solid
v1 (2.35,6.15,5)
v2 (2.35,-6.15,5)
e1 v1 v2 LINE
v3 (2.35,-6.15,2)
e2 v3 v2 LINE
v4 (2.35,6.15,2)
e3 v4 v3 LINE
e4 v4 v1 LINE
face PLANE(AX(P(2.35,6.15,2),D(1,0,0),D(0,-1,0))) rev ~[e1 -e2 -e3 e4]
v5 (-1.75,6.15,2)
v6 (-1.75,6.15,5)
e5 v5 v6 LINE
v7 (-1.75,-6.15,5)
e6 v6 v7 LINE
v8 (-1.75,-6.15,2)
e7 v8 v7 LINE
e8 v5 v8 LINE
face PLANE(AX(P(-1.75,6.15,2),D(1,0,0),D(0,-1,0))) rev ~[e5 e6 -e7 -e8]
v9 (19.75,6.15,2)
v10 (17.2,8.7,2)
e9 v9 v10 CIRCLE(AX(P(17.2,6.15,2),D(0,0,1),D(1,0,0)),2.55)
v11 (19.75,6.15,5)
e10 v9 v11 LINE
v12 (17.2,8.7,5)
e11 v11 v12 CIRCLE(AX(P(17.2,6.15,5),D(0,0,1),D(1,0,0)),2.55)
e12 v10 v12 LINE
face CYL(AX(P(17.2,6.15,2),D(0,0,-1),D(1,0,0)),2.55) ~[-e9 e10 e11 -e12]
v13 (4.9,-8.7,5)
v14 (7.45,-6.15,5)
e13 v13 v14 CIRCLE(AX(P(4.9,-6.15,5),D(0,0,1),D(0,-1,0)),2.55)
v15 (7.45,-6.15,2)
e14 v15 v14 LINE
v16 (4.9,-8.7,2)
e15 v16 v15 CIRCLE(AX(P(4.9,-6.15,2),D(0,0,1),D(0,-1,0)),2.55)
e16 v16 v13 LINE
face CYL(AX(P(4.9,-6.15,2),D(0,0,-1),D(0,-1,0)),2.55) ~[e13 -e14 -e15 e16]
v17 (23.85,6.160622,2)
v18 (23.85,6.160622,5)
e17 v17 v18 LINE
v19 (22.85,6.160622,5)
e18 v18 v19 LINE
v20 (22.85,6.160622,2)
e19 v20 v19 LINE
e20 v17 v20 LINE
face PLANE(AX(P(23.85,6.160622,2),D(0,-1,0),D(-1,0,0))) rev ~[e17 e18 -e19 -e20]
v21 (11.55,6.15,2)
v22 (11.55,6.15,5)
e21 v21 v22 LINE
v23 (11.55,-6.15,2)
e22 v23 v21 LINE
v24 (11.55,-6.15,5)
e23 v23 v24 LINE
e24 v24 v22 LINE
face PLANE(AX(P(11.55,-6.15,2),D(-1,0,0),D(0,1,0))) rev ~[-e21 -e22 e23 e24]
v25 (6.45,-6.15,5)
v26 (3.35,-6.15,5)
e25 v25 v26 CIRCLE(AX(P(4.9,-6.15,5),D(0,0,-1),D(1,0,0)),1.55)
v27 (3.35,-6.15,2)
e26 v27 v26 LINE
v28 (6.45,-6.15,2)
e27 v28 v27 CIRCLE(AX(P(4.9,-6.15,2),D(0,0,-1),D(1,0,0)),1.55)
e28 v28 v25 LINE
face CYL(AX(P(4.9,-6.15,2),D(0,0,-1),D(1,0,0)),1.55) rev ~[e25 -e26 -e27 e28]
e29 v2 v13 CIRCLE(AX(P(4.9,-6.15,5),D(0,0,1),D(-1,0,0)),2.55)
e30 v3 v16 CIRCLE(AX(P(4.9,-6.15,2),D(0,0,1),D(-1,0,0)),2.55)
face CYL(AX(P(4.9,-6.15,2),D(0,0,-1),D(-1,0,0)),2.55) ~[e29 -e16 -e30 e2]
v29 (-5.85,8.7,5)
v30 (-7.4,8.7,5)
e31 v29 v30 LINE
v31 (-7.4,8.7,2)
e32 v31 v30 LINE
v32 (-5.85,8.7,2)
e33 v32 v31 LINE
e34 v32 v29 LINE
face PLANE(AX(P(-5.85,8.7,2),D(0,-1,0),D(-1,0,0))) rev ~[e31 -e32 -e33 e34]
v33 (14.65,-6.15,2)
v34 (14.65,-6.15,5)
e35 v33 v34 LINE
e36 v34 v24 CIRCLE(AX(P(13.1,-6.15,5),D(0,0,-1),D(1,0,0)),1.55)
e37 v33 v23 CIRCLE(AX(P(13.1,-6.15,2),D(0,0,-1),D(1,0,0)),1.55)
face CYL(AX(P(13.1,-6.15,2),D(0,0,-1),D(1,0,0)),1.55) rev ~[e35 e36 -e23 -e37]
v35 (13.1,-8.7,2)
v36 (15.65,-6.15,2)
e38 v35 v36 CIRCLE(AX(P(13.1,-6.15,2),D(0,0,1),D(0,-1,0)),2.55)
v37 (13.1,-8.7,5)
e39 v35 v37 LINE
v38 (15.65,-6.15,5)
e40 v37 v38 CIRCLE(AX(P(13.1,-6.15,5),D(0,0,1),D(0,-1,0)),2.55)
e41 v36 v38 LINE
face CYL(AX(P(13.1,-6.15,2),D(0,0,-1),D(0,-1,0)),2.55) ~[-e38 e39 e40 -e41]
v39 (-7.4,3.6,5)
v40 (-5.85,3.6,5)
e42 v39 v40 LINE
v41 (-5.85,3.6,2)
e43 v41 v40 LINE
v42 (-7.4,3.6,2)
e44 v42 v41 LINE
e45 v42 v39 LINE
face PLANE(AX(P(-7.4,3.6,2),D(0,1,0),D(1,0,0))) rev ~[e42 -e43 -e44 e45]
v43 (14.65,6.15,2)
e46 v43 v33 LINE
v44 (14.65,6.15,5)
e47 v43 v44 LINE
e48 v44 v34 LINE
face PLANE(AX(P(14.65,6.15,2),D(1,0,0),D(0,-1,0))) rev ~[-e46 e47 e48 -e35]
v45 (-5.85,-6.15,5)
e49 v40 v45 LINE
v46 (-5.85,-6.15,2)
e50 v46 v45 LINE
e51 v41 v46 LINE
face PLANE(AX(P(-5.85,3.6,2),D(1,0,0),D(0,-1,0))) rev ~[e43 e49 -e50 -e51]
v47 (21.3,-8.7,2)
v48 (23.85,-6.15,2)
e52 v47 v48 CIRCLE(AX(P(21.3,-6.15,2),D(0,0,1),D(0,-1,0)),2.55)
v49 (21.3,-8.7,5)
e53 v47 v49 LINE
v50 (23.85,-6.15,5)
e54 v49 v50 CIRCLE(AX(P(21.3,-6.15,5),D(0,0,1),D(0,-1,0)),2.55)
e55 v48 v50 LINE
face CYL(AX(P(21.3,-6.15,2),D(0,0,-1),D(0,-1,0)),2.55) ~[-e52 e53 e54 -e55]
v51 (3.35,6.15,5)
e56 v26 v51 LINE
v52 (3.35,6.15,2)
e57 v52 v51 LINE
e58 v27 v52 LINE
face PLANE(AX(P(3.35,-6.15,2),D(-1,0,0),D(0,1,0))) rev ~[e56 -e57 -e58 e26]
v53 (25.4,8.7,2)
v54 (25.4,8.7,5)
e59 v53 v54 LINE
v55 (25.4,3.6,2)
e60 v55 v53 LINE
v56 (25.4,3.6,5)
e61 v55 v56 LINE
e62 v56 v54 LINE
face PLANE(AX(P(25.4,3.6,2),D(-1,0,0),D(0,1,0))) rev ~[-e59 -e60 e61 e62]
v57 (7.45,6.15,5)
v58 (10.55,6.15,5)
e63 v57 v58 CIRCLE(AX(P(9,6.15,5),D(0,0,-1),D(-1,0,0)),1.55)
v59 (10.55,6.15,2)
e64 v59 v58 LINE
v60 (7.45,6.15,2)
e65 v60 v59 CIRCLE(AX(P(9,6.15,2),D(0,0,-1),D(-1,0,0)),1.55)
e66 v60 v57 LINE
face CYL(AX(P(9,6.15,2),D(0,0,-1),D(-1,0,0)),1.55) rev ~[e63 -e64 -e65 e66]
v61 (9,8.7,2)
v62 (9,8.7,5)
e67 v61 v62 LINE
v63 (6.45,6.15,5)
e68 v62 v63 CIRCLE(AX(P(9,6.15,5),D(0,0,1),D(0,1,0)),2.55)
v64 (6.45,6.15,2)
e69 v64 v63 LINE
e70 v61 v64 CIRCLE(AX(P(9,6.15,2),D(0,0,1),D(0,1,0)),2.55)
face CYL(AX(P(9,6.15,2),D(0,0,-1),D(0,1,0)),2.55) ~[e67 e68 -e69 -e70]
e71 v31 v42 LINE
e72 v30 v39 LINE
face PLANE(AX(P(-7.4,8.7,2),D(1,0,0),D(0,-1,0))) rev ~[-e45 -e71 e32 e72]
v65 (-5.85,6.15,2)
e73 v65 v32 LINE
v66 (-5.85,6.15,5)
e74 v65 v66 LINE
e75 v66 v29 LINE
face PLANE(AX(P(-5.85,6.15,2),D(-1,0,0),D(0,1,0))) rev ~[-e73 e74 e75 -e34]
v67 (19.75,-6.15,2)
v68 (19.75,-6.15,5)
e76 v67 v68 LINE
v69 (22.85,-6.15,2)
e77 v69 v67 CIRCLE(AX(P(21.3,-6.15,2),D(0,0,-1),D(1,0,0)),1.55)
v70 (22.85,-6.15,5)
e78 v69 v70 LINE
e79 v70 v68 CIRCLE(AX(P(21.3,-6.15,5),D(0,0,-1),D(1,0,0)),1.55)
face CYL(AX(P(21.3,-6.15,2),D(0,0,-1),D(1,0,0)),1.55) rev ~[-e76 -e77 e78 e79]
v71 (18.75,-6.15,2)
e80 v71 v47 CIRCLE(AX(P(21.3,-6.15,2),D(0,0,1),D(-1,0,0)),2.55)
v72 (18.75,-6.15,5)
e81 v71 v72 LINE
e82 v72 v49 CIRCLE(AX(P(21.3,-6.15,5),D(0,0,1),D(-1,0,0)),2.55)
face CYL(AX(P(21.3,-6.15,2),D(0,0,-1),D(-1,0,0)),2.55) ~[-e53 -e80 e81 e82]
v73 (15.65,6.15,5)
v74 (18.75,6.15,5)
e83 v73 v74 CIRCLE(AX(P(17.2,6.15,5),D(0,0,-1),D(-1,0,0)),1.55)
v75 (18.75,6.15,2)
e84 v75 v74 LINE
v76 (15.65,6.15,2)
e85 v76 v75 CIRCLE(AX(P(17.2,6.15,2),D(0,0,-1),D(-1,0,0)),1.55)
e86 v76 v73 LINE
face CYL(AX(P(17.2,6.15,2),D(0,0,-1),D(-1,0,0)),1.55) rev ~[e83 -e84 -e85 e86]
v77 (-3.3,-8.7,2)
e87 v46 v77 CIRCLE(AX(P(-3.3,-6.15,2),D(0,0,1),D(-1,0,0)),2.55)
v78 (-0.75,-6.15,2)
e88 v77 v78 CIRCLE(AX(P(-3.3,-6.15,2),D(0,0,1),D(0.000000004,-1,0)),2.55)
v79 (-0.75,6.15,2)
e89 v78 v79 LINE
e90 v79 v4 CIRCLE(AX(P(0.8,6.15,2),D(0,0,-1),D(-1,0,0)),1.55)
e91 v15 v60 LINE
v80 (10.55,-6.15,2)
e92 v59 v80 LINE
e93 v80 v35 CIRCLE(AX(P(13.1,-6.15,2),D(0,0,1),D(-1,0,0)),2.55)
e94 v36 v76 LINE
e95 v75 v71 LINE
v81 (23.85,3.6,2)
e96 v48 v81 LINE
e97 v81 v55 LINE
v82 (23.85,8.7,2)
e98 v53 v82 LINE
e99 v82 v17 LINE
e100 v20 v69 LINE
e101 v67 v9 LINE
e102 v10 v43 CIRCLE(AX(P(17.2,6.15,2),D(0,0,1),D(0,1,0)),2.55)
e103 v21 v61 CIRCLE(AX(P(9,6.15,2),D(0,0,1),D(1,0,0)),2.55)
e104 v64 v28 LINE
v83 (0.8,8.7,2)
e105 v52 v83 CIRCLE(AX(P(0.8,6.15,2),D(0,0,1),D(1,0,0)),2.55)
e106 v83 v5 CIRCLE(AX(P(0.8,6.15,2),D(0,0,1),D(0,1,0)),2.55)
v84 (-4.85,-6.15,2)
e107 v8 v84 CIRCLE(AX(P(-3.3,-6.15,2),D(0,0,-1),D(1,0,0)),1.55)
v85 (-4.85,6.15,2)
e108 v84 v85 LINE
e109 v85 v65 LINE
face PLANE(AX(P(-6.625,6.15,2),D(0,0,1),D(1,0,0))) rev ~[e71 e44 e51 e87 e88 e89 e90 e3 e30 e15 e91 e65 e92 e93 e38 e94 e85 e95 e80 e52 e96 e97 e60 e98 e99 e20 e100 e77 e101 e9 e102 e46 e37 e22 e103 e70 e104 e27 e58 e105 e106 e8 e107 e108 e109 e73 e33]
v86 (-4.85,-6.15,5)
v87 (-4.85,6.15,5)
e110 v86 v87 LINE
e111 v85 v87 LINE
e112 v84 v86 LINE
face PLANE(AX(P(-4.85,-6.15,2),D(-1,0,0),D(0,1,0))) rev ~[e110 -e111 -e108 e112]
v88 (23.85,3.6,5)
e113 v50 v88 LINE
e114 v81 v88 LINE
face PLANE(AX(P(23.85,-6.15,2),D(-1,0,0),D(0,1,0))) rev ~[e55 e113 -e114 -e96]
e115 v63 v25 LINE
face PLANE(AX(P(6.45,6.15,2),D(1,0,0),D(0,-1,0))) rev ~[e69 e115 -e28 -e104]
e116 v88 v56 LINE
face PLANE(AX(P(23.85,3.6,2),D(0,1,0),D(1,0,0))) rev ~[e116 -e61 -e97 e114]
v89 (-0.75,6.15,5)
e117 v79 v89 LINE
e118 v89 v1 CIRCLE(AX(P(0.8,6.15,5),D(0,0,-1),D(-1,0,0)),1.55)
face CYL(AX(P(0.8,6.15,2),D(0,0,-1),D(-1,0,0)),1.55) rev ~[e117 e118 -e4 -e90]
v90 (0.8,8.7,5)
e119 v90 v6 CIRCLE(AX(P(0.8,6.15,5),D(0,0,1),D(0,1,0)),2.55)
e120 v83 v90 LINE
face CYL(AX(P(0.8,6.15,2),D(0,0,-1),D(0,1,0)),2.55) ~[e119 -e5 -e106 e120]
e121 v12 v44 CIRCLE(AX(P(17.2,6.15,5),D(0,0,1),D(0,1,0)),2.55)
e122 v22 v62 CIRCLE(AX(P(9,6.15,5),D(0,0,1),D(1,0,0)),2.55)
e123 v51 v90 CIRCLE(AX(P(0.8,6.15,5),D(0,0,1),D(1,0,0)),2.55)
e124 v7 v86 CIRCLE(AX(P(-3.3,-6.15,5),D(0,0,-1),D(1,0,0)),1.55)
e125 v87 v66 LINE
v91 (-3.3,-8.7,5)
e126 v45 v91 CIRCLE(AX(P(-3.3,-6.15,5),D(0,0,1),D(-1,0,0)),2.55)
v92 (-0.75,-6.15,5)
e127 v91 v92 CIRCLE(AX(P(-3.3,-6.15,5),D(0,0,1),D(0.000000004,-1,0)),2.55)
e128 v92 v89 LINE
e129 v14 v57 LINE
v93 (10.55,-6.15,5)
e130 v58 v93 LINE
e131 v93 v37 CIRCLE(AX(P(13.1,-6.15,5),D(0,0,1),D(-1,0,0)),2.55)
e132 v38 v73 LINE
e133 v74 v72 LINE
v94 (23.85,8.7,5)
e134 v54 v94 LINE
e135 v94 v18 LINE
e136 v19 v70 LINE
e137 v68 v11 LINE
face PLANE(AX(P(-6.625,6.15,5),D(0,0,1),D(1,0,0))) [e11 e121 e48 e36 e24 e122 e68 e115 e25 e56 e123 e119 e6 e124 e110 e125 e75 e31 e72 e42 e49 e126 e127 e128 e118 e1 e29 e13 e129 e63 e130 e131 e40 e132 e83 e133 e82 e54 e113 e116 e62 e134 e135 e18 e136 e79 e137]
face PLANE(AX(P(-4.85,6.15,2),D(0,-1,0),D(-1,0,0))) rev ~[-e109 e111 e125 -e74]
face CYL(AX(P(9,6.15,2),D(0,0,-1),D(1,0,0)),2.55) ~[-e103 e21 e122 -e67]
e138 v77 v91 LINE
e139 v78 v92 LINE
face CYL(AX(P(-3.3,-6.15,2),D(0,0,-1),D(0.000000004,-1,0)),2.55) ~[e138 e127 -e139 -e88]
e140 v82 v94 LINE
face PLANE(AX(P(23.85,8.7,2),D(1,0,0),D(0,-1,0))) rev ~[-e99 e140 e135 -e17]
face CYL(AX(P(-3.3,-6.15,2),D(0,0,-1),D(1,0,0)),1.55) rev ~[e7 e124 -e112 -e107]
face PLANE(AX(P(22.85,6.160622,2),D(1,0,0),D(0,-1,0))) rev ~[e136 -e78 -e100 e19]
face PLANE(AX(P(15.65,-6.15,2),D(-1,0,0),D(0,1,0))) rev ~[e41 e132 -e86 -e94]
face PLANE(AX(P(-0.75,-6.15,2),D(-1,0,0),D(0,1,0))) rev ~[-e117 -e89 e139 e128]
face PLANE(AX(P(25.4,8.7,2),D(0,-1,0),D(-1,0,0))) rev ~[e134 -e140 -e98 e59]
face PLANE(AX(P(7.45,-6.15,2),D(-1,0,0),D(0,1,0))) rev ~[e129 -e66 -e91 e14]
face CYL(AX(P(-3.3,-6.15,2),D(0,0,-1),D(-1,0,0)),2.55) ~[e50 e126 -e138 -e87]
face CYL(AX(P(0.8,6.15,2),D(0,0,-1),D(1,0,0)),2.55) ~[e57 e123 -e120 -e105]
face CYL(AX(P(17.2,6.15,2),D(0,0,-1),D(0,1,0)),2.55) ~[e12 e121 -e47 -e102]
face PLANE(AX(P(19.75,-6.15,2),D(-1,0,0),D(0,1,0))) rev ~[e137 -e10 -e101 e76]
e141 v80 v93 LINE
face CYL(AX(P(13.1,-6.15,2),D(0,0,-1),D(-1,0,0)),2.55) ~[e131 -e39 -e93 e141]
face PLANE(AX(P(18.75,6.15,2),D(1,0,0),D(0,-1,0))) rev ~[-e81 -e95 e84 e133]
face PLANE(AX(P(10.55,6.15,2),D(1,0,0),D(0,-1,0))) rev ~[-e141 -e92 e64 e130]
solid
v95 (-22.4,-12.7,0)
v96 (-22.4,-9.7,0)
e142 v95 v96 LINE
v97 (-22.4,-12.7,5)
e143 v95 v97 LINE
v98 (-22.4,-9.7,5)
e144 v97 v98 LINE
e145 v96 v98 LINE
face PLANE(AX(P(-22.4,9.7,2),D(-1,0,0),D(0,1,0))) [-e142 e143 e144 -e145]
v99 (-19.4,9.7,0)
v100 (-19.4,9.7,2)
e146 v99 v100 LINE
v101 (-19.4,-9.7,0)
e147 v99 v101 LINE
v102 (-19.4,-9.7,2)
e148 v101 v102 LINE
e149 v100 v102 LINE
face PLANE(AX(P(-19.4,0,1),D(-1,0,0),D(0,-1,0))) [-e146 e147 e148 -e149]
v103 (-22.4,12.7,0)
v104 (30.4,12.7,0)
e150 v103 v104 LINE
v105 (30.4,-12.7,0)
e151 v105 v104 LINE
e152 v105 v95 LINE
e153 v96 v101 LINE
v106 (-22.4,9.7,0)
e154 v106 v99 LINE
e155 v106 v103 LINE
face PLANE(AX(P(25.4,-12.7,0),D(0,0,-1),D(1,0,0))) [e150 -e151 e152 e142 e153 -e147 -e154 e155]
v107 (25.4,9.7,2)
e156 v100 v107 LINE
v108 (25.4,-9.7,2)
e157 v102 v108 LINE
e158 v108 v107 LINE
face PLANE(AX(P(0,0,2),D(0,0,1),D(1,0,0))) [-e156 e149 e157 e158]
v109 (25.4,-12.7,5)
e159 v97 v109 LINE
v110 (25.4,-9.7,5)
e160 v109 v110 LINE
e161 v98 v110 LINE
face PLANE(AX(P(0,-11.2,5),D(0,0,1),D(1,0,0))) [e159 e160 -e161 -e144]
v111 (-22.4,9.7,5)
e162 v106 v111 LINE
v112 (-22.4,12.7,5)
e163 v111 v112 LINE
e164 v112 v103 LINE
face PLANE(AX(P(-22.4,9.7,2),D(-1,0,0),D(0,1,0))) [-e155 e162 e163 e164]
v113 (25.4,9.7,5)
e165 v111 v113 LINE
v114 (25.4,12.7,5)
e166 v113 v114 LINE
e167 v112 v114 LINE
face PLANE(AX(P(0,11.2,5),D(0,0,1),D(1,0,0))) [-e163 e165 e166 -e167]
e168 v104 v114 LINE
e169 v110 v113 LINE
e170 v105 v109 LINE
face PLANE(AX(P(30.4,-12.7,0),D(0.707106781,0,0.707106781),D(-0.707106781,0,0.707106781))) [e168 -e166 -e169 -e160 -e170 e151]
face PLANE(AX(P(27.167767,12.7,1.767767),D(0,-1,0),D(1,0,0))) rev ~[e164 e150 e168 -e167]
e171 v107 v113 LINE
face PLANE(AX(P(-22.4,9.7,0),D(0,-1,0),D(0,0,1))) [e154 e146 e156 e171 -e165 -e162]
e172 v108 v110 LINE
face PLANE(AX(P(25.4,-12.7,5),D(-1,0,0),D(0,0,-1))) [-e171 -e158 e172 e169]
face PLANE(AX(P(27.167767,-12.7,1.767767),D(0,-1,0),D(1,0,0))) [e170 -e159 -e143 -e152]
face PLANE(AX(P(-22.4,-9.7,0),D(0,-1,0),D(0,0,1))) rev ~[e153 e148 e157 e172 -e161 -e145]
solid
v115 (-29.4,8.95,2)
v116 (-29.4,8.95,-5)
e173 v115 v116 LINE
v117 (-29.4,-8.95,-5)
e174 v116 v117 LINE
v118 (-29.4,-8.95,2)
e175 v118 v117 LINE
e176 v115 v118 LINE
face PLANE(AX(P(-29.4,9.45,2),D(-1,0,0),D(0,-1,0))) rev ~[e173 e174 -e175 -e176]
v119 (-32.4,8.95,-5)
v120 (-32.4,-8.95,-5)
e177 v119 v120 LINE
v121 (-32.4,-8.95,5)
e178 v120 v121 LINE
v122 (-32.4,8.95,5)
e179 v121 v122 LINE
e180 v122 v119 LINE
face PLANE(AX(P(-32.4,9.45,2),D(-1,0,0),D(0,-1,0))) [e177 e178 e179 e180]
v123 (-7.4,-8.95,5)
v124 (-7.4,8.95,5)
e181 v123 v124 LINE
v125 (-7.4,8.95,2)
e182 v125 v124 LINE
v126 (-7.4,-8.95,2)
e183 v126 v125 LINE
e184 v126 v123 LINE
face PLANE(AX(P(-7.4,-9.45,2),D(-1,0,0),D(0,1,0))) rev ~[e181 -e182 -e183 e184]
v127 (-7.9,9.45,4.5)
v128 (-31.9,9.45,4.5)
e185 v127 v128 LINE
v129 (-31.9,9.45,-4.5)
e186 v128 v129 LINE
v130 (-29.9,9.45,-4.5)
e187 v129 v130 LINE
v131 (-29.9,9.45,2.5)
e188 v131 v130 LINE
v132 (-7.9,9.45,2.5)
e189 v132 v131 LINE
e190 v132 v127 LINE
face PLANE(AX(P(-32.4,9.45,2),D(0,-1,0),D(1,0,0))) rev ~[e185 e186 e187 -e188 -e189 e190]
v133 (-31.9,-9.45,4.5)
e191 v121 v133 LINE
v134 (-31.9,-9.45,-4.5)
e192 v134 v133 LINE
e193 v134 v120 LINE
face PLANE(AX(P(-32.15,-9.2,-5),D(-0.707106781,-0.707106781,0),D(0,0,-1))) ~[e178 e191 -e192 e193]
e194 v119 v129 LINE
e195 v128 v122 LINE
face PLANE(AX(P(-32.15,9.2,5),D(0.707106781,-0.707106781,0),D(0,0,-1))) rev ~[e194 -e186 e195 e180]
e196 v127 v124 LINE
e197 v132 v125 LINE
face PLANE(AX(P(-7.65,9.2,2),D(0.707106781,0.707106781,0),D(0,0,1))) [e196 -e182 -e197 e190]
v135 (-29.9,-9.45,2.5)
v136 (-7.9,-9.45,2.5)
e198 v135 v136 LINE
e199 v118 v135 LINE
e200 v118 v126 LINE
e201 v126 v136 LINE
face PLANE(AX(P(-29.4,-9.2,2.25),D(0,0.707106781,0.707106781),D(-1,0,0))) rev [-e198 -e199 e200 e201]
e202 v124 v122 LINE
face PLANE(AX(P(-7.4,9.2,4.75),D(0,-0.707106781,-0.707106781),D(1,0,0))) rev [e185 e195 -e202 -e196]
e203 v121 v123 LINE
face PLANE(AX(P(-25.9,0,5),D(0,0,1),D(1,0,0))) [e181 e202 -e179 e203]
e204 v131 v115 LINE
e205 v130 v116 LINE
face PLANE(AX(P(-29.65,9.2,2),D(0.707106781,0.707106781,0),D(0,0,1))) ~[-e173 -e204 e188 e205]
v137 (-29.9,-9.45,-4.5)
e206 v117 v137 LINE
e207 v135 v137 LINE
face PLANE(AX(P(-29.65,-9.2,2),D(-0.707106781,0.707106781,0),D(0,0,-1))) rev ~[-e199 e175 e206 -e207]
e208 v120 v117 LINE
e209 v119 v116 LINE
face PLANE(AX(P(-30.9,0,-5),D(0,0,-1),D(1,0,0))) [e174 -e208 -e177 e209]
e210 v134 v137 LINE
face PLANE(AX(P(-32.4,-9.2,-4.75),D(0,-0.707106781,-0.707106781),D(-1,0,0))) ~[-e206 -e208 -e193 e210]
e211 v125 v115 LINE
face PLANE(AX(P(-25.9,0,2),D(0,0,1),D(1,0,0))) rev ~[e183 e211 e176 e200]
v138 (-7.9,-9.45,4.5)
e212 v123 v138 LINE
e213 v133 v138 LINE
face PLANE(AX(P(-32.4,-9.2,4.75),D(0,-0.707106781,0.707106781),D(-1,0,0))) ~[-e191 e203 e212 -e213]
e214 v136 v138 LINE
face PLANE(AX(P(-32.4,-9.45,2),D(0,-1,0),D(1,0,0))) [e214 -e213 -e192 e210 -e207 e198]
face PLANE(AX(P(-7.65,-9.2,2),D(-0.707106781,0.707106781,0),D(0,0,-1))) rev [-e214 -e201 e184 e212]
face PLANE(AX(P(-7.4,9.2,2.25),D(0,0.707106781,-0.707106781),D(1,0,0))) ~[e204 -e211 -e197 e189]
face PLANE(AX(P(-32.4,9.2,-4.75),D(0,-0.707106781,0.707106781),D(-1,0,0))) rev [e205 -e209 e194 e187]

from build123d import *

# Parameters (mm, degrees)
F0_W      = 50.8
F0_H      = 25.4
F1_DEPTH  = 2
F2_W      = 50.8
F2_H      = 3
F3_DEPTH  = 3
F5_DEPTH  = 25.4
F6_DEPTH  = 3
F7_W      = 19.4
F7_H      = 2
F8_DEPTH  = 3
F9_W      = 13
F9_H      = 18.9
F9_W_2    = 12
F10_DEPTH = 3
F11_W     = 3
F11_H     = 18.9
F12_DEPTH = 7
F14_DEPTH = 3
F15_SIZE  = 0.5


with BuildPart() as f1:
    # F0 (on Top) → F1 (new body)
    with BuildSketch(Plane.XY):
        Rectangle(F0_W, F0_H)
    extrude(amount=F1_DEPTH)

    # F2 (on face) → F3 (join)
    with BuildSketch(Plane.XY.offset(2)):
        with Locations((0, 11.2)):
            Rectangle(F2_W, F2_H)
        with Locations((0, -11.2)):
            Rectangle(F2_W, F2_H)
    extrude(amount=F3_DEPTH)

    # F4 (on face) → F5 (join)
    with BuildSketch(Plane.XZ.offset(12.7)):
        Polygon((30.4, 0), (25.4, 5), (25.4, 0), align=None)
    extrude(amount=-F5_DEPTH)

    # F6 (cut): a face of the model
    f6_faces = [f1.faces().sort_by_distance(p)[0] for p in [
        (-25.4, 0, 1.6540697674),
    ]]
    extrude(f6_faces, amount=-F6_DEPTH, mode=Mode.SUBTRACT)

    # F7 (on face) → F8 (cut)
    with BuildSketch(Plane(origin=(-22.4, 0, 0), x_dir=(0, -1, 0), z_dir=(-1, 0, 0))):
        with Locations((0, 1)):
            Rectangle(F7_W, F7_H)
    extrude(amount=-F8_DEPTH, mode=Mode.SUBTRACT)


with BuildPart() as f10:
    # F9 (on face) → F10 (new body)
    with BuildSketch(Plane.XY.offset(2)):
        with Locations((-25.9, 0)):
            Rectangle(F9_W, F9_H)
        with Locations((-13.4, 0)):
            Rectangle(F9_W_2, F9_H)
    extrude(amount=F10_DEPTH)

    # F11 (on face) → F12 (join)
    with BuildSketch(Plane(origin=(0, 0, 2), x_dir=(1, 0, 0), z_dir=(0, 0, -1))):
        with Locations((-30.9, 0)):
            Rectangle(F11_W, F11_H)
    extrude(amount=F12_DEPTH)

    # F15
    f15_edges = [f10.edges().sort_by_distance(p)[0] for p in [
        (-7.4, 9.45, 3.5),
        (-19.9, 9.45, 5),
        (-32.4, 9.45, 0),
        (-30.9, 9.45, -5),
        (-29.4, 9.45, -1.5),
        (-18.4, 9.45, 2),
        (-19.9, -9.45, 5),
        (-7.4, -9.45, 3.5),
        (-18.4, -9.45, 2),
        (-29.4, -9.45, -1.5),
        (-30.9, -9.45, -5),
        (-32.4, -9.45, 0),
    ]]
    chamfer(f15_edges, length=F15_SIZE)


with BuildPart() as f14:
    # F13 (on face) → F14 (new body)
    with BuildSketch(Plane.XY.offset(2)):
        Polygon((-7.4, 8.7), (-7.4, 3.6), (-5.85, 3.6), (-5.85, 6.15), (-5.85, 8.7), align=None)
        with BuildLine():
            Line((-5.85, 3.6), (-5.85, -6.15))
            ThreePointArc((-5.85, -6.15), (-5.586372673, -5.0208410209), (-4.85, -4.1251543269))
            Line((-4.85, -4.1251543269), (-4.85, 6.15))
            Line((-4.85, 6.15), (-5.85, 6.15))
            Line((-5.85, 6.15), (-5.85, 3.6))
        make_face()
        with BuildLine():
            ThreePointArc((-1.75, -4.1251543269), (-1.013627327, -5.0208410209), (-0.75, -6.15))
            Line((-0.75, -6.15), (-0.75, 4.1251543269))
            ThreePointArc((-0.75, 4.1251543269), (-1.486372673, 5.0208410209), (-1.75, 6.15))
            Line((-1.75, 6.15), (-1.75, -4.1251543269))
        make_face()
        with BuildLine():
            ThreePointArc((-4.85, -4.1251543269), (-5.586372673, -5.0208410209), (-5.85, -6.15))
            Line((-5.85, -6.15), (-4.85, -6.15))
            Line((-4.85, -6.15), (-4.85, -4.1251543269))
        make_face()
        with BuildLine():
            Line((-1.75, -6.15), (-0.75, -6.15))
            ThreePointArc((-0.75, -6.15), (-1.013627327, -5.0208410209), (-1.75, -4.1251543269))
            Line((-1.75, -4.1251543269), (-1.75, -6.15))
        make_face()
        with BuildLine():
            ThreePointArc((-5.85, -6.15), (-5.103122288, -7.9531222961), (-3.2999999885, -8.7))
            ThreePointArc((-3.2999999885, -8.7), (-1.4968777039, -7.953122288), (-0.75, -6.15))
            Line((-0.75, -6.15), (-1.75, -6.15))
            ThreePointArc((-1.75, -6.15), (-3.3, -7.7), (-4.85, -6.15))
            Line((-4.85, -6.15), (-5.85, -6.15))
        make_face()
        with BuildLine():
            Line((2.35, 6.15), (3.35, 6.15))
            ThreePointArc((3.35, 6.15), (2.603122292, 7.953122292), (0.8, 8.7))
            ThreePointArc((0.8, 8.7), (-1.003122292, 7.953122292), (-1.75, 6.15))
            Line((-1.75, 6.15), (-0.75, 6.15))
            ThreePointArc((-0.75, 6.15), (0.8, 7.7), (2.35, 6.15))
        make_face()
        with BuildLine():
            ThreePointArc((-1.75, 6.15), (-1.486372673, 5.0208410209), (-0.75, 4.1251543269))
            Line((-0.75, 4.1251543269), (-0.75, 6.15))
            Line((-0.75, 6.15), (-1.75, 6.15))
        make_face()
        with BuildLine():
            Line((2.35, 6.15), (2.35, 4.1251543269))
            ThreePointArc((2.35, 4.1251543269), (3.086372673, 5.0208410209), (3.35, 6.15))
            Line((3.35, 6.15), (2.35, 6.15))
        make_face()
        with BuildLine():
            Line((2.35, 4.1251543269), (2.35, -6.15))
            ThreePointArc((2.35, -6.15), (2.613627327, -5.0208410209), (3.35, -4.1251543269))
            Line((3.35, -4.1251543269), (3.35, 6.15))
            ThreePointArc((3.35, 6.15), (3.086372673, 5.0208410209), (2.35, 4.1251543269))
        make_face()
        with BuildLine():
            ThreePointArc((2.35, -6.15), (3.096877708, -7.953122292), (4.9, -8.7))
            ThreePointArc((4.9, -8.7), (6.703122292, -7.953122292), (7.45, -6.15))
            Line((7.45, -6.15), (6.45, -6.15))
            ThreePointArc((6.45, -6.15), (4.9, -7.7), (3.35, -6.15))
            Line((3.35, -6.15), (2.35, -6.15))
        make_face()
        with BuildLine():
            ThreePointArc((6.45, -4.1251543269), (7.186372673, -5.0208410209), (7.45, -6.15))
            Line((7.45, -6.15), (7.45, 4.1251543269))
            ThreePointArc((7.45, 4.1251543269), (6.713627327, 5.0208410209), (6.45, 6.15))
            Line((6.45, 6.15), (6.45, -4.1251543269))
        make_face()
        with BuildLine():
            Line((10.55, 6.15), (11.55, 6.15))
            ThreePointArc((11.55, 6.15), (10.803122292, 7.953122292), (9, 8.7))
            ThreePointArc((9, 8.7), (7.196877708, 7.953122292), (6.45, 6.15))
            Line((6.45, 6.15), (7.45, 6.15))
            ThreePointArc((7.45, 6.15), (9, 7.7), (10.55, 6.15))
        make_face()
        with BuildLine():
            ThreePointArc((6.45, 6.15), (6.713627327, 5.0208410209), (7.45, 4.1251543269))
            Line((7.45, 4.1251543269), (7.45, 6.15))
            Line((7.45, 6.15), (6.45, 6.15))
        make_face()
        with BuildLine():
            ThreePointArc((3.35, -4.1251543269), (2.613627327, -5.0208410209), (2.35, -6.15))
            Line((2.35, -6.15), (3.35, -6.15))
            Line((3.35, -6.15), (3.35, -4.1251543269))
        make_face()
        with BuildLine():
            Line((6.45, -6.15), (7.45, -6.15))
            ThreePointArc((7.45, -6.15), (7.186372673, -5.0208410209), (6.45, -4.1251543269))
            Line((6.45, -4.1251543269), (6.45, -6.15))
        make_face()
        with BuildLine():
            Line((10.55, 6.15), (10.55, 4.1251543269))
            ThreePointArc((10.55, 4.1251543269), (11.286372673, 5.0208410209), (11.55, 6.15))
            Line((11.55, 6.15), (10.55, 6.15))
        make_face()
        with BuildLine():
            Line((10.55, 4.1251543269), (10.55, -6.15))
            ThreePointArc((10.55, -6.15), (10.813627327, -5.0208410209), (11.55, -4.1251543269))
            Line((11.55, -4.1251543269), (11.55, 6.15))
            ThreePointArc((11.55, 6.15), (11.286372673, 5.0208410209), (10.55, 4.1251543269))
        make_face()
        with BuildLine():
            ThreePointArc((10.55, -6.15), (11.296877708, -7.953122292), (13.1, -8.7))
            ThreePointArc((13.1, -8.7), (14.903122292, -7.953122292), (15.65, -6.15))
            Line((15.65, -6.15), (14.65, -6.15))
            ThreePointArc((14.65, -6.15), (13.1, -7.7), (11.55, -6.15))
            Line((11.55, -6.15), (10.55, -6.15))
        make_face()
        with BuildLine():
            ThreePointArc((11.55, -4.1251543269), (10.813627327, -5.0208410209), (10.55, -6.15))
            Line((10.55, -6.15), (11.55, -6.15))
            Line((11.55, -6.15), (11.55, -4.1251543269))
        make_face()
        with BuildLine():
            Line((14.65, -6.15), (15.65, -6.15))
            ThreePointArc((15.65, -6.15), (15.386372673, -5.0208410209), (14.65, -4.1251543269))
            Line((14.65, -4.1251543269), (14.65, -6.15))
        make_face()
        with BuildLine():
            ThreePointArc((14.65, -4.1251543269), (15.386372673, -5.0208410209), (15.65, -6.15))
            Line((15.65, -6.15), (15.65, 4.1251543269))
            ThreePointArc((15.65, 4.1251543269), (14.913627327, 5.0208410209), (14.65, 6.15))
            Line((14.65, 6.15), (14.65, -4.1251543269))
        make_face()
        with BuildLine():
            ThreePointArc((14.65, 6.15), (14.913627327, 5.0208410209), (15.65, 4.1251543269))
            Line((15.65, 4.1251543269), (15.65, 6.15))
            Line((15.65, 6.15), (14.65, 6.15))
        make_face()
        with BuildLine():
            Line((18.75, 6.15), (18.75, 4.1251543269))
            ThreePointArc((18.75, 4.1251543269), (19.486372673, 5.0208410209), (19.75, 6.15))
            Line((19.75, 6.15), (18.75, 6.15))
        make_face()
        with BuildLine():
            Line((18.75, 6.15), (19.75, 6.15))
            ThreePointArc((19.75, 6.15), (19.003122292, 7.953122292), (17.2, 8.7))
            ThreePointArc((17.2, 8.7), (15.396877708, 7.953122292), (14.65, 6.15))
            Line((14.65, 6.15), (15.65, 6.15))
            ThreePointArc((15.65, 6.15), (17.2, 7.7), (18.75, 6.15))
        make_face()
        Polygon((23.85, 3.6), (25.4, 3.6), (25.4, 8.7), (23.85, 8.7), (23.85, 6.160621997), align=None)
        with BuildLine():
            Line((18.75, 4.1251543269), (18.75, -6.15))
            ThreePointArc((18.75, -6.15), (19.013627327, -5.0208410209), (19.75, -4.1251543269))
            Line((19.75, -4.1251543269), (19.75, 6.15))
            ThreePointArc((19.75, 6.15), (19.486372673, 5.0208410209), (18.75, 4.1251543269))
        make_face()
        with BuildLine():
            ThreePointArc((19.75, -4.1251543269), (19.013627327, -5.0208410209), (18.75, -6.15))
            Line((18.75, -6.15), (19.75, -6.15))
            Line((19.75, -6.15), (19.75, -4.1251543269))
        make_face()
        with BuildLine():
            Line((22.85, -6.15), (23.85, -6.15))
            ThreePointArc((23.85, -6.15), (23.586372673, -5.0208410209), (22.85, -4.1251543269))
            Line((22.85, -4.1251543269), (22.85, -6.15))
        make_face()
        with BuildLine():
            ThreePointArc((18.75, -6.15), (19.496877708, -7.953122292), (21.3, -8.7))
            ThreePointArc((21.3, -8.7), (23.103122292, -7.953122292), (23.85, -6.15))
            Line((23.85, -6.15), (22.85, -6.15))
            ThreePointArc((22.85, -6.15), (21.3, -7.7), (19.75, -6.15))
            Line((19.75, -6.15), (18.75, -6.15))
        make_face()
        with BuildLine():
            ThreePointArc((22.85, -4.1251543269), (23.586372673, -5.0208410209), (23.85, -6.15))
            Line((23.85, -6.15), (23.85, 3.6))
            Line((23.85, 3.6), (23.85, 6.160621997))
            Line((23.85, 6.160621997), (22.85, 6.160621997))
            Line((22.85, 6.160621997), (22.85, -4.1251543269))
        make_face()
    extrude(amount=F14_DEPTH)


solid = Compound([f1.part, f10.part, f14.part])
